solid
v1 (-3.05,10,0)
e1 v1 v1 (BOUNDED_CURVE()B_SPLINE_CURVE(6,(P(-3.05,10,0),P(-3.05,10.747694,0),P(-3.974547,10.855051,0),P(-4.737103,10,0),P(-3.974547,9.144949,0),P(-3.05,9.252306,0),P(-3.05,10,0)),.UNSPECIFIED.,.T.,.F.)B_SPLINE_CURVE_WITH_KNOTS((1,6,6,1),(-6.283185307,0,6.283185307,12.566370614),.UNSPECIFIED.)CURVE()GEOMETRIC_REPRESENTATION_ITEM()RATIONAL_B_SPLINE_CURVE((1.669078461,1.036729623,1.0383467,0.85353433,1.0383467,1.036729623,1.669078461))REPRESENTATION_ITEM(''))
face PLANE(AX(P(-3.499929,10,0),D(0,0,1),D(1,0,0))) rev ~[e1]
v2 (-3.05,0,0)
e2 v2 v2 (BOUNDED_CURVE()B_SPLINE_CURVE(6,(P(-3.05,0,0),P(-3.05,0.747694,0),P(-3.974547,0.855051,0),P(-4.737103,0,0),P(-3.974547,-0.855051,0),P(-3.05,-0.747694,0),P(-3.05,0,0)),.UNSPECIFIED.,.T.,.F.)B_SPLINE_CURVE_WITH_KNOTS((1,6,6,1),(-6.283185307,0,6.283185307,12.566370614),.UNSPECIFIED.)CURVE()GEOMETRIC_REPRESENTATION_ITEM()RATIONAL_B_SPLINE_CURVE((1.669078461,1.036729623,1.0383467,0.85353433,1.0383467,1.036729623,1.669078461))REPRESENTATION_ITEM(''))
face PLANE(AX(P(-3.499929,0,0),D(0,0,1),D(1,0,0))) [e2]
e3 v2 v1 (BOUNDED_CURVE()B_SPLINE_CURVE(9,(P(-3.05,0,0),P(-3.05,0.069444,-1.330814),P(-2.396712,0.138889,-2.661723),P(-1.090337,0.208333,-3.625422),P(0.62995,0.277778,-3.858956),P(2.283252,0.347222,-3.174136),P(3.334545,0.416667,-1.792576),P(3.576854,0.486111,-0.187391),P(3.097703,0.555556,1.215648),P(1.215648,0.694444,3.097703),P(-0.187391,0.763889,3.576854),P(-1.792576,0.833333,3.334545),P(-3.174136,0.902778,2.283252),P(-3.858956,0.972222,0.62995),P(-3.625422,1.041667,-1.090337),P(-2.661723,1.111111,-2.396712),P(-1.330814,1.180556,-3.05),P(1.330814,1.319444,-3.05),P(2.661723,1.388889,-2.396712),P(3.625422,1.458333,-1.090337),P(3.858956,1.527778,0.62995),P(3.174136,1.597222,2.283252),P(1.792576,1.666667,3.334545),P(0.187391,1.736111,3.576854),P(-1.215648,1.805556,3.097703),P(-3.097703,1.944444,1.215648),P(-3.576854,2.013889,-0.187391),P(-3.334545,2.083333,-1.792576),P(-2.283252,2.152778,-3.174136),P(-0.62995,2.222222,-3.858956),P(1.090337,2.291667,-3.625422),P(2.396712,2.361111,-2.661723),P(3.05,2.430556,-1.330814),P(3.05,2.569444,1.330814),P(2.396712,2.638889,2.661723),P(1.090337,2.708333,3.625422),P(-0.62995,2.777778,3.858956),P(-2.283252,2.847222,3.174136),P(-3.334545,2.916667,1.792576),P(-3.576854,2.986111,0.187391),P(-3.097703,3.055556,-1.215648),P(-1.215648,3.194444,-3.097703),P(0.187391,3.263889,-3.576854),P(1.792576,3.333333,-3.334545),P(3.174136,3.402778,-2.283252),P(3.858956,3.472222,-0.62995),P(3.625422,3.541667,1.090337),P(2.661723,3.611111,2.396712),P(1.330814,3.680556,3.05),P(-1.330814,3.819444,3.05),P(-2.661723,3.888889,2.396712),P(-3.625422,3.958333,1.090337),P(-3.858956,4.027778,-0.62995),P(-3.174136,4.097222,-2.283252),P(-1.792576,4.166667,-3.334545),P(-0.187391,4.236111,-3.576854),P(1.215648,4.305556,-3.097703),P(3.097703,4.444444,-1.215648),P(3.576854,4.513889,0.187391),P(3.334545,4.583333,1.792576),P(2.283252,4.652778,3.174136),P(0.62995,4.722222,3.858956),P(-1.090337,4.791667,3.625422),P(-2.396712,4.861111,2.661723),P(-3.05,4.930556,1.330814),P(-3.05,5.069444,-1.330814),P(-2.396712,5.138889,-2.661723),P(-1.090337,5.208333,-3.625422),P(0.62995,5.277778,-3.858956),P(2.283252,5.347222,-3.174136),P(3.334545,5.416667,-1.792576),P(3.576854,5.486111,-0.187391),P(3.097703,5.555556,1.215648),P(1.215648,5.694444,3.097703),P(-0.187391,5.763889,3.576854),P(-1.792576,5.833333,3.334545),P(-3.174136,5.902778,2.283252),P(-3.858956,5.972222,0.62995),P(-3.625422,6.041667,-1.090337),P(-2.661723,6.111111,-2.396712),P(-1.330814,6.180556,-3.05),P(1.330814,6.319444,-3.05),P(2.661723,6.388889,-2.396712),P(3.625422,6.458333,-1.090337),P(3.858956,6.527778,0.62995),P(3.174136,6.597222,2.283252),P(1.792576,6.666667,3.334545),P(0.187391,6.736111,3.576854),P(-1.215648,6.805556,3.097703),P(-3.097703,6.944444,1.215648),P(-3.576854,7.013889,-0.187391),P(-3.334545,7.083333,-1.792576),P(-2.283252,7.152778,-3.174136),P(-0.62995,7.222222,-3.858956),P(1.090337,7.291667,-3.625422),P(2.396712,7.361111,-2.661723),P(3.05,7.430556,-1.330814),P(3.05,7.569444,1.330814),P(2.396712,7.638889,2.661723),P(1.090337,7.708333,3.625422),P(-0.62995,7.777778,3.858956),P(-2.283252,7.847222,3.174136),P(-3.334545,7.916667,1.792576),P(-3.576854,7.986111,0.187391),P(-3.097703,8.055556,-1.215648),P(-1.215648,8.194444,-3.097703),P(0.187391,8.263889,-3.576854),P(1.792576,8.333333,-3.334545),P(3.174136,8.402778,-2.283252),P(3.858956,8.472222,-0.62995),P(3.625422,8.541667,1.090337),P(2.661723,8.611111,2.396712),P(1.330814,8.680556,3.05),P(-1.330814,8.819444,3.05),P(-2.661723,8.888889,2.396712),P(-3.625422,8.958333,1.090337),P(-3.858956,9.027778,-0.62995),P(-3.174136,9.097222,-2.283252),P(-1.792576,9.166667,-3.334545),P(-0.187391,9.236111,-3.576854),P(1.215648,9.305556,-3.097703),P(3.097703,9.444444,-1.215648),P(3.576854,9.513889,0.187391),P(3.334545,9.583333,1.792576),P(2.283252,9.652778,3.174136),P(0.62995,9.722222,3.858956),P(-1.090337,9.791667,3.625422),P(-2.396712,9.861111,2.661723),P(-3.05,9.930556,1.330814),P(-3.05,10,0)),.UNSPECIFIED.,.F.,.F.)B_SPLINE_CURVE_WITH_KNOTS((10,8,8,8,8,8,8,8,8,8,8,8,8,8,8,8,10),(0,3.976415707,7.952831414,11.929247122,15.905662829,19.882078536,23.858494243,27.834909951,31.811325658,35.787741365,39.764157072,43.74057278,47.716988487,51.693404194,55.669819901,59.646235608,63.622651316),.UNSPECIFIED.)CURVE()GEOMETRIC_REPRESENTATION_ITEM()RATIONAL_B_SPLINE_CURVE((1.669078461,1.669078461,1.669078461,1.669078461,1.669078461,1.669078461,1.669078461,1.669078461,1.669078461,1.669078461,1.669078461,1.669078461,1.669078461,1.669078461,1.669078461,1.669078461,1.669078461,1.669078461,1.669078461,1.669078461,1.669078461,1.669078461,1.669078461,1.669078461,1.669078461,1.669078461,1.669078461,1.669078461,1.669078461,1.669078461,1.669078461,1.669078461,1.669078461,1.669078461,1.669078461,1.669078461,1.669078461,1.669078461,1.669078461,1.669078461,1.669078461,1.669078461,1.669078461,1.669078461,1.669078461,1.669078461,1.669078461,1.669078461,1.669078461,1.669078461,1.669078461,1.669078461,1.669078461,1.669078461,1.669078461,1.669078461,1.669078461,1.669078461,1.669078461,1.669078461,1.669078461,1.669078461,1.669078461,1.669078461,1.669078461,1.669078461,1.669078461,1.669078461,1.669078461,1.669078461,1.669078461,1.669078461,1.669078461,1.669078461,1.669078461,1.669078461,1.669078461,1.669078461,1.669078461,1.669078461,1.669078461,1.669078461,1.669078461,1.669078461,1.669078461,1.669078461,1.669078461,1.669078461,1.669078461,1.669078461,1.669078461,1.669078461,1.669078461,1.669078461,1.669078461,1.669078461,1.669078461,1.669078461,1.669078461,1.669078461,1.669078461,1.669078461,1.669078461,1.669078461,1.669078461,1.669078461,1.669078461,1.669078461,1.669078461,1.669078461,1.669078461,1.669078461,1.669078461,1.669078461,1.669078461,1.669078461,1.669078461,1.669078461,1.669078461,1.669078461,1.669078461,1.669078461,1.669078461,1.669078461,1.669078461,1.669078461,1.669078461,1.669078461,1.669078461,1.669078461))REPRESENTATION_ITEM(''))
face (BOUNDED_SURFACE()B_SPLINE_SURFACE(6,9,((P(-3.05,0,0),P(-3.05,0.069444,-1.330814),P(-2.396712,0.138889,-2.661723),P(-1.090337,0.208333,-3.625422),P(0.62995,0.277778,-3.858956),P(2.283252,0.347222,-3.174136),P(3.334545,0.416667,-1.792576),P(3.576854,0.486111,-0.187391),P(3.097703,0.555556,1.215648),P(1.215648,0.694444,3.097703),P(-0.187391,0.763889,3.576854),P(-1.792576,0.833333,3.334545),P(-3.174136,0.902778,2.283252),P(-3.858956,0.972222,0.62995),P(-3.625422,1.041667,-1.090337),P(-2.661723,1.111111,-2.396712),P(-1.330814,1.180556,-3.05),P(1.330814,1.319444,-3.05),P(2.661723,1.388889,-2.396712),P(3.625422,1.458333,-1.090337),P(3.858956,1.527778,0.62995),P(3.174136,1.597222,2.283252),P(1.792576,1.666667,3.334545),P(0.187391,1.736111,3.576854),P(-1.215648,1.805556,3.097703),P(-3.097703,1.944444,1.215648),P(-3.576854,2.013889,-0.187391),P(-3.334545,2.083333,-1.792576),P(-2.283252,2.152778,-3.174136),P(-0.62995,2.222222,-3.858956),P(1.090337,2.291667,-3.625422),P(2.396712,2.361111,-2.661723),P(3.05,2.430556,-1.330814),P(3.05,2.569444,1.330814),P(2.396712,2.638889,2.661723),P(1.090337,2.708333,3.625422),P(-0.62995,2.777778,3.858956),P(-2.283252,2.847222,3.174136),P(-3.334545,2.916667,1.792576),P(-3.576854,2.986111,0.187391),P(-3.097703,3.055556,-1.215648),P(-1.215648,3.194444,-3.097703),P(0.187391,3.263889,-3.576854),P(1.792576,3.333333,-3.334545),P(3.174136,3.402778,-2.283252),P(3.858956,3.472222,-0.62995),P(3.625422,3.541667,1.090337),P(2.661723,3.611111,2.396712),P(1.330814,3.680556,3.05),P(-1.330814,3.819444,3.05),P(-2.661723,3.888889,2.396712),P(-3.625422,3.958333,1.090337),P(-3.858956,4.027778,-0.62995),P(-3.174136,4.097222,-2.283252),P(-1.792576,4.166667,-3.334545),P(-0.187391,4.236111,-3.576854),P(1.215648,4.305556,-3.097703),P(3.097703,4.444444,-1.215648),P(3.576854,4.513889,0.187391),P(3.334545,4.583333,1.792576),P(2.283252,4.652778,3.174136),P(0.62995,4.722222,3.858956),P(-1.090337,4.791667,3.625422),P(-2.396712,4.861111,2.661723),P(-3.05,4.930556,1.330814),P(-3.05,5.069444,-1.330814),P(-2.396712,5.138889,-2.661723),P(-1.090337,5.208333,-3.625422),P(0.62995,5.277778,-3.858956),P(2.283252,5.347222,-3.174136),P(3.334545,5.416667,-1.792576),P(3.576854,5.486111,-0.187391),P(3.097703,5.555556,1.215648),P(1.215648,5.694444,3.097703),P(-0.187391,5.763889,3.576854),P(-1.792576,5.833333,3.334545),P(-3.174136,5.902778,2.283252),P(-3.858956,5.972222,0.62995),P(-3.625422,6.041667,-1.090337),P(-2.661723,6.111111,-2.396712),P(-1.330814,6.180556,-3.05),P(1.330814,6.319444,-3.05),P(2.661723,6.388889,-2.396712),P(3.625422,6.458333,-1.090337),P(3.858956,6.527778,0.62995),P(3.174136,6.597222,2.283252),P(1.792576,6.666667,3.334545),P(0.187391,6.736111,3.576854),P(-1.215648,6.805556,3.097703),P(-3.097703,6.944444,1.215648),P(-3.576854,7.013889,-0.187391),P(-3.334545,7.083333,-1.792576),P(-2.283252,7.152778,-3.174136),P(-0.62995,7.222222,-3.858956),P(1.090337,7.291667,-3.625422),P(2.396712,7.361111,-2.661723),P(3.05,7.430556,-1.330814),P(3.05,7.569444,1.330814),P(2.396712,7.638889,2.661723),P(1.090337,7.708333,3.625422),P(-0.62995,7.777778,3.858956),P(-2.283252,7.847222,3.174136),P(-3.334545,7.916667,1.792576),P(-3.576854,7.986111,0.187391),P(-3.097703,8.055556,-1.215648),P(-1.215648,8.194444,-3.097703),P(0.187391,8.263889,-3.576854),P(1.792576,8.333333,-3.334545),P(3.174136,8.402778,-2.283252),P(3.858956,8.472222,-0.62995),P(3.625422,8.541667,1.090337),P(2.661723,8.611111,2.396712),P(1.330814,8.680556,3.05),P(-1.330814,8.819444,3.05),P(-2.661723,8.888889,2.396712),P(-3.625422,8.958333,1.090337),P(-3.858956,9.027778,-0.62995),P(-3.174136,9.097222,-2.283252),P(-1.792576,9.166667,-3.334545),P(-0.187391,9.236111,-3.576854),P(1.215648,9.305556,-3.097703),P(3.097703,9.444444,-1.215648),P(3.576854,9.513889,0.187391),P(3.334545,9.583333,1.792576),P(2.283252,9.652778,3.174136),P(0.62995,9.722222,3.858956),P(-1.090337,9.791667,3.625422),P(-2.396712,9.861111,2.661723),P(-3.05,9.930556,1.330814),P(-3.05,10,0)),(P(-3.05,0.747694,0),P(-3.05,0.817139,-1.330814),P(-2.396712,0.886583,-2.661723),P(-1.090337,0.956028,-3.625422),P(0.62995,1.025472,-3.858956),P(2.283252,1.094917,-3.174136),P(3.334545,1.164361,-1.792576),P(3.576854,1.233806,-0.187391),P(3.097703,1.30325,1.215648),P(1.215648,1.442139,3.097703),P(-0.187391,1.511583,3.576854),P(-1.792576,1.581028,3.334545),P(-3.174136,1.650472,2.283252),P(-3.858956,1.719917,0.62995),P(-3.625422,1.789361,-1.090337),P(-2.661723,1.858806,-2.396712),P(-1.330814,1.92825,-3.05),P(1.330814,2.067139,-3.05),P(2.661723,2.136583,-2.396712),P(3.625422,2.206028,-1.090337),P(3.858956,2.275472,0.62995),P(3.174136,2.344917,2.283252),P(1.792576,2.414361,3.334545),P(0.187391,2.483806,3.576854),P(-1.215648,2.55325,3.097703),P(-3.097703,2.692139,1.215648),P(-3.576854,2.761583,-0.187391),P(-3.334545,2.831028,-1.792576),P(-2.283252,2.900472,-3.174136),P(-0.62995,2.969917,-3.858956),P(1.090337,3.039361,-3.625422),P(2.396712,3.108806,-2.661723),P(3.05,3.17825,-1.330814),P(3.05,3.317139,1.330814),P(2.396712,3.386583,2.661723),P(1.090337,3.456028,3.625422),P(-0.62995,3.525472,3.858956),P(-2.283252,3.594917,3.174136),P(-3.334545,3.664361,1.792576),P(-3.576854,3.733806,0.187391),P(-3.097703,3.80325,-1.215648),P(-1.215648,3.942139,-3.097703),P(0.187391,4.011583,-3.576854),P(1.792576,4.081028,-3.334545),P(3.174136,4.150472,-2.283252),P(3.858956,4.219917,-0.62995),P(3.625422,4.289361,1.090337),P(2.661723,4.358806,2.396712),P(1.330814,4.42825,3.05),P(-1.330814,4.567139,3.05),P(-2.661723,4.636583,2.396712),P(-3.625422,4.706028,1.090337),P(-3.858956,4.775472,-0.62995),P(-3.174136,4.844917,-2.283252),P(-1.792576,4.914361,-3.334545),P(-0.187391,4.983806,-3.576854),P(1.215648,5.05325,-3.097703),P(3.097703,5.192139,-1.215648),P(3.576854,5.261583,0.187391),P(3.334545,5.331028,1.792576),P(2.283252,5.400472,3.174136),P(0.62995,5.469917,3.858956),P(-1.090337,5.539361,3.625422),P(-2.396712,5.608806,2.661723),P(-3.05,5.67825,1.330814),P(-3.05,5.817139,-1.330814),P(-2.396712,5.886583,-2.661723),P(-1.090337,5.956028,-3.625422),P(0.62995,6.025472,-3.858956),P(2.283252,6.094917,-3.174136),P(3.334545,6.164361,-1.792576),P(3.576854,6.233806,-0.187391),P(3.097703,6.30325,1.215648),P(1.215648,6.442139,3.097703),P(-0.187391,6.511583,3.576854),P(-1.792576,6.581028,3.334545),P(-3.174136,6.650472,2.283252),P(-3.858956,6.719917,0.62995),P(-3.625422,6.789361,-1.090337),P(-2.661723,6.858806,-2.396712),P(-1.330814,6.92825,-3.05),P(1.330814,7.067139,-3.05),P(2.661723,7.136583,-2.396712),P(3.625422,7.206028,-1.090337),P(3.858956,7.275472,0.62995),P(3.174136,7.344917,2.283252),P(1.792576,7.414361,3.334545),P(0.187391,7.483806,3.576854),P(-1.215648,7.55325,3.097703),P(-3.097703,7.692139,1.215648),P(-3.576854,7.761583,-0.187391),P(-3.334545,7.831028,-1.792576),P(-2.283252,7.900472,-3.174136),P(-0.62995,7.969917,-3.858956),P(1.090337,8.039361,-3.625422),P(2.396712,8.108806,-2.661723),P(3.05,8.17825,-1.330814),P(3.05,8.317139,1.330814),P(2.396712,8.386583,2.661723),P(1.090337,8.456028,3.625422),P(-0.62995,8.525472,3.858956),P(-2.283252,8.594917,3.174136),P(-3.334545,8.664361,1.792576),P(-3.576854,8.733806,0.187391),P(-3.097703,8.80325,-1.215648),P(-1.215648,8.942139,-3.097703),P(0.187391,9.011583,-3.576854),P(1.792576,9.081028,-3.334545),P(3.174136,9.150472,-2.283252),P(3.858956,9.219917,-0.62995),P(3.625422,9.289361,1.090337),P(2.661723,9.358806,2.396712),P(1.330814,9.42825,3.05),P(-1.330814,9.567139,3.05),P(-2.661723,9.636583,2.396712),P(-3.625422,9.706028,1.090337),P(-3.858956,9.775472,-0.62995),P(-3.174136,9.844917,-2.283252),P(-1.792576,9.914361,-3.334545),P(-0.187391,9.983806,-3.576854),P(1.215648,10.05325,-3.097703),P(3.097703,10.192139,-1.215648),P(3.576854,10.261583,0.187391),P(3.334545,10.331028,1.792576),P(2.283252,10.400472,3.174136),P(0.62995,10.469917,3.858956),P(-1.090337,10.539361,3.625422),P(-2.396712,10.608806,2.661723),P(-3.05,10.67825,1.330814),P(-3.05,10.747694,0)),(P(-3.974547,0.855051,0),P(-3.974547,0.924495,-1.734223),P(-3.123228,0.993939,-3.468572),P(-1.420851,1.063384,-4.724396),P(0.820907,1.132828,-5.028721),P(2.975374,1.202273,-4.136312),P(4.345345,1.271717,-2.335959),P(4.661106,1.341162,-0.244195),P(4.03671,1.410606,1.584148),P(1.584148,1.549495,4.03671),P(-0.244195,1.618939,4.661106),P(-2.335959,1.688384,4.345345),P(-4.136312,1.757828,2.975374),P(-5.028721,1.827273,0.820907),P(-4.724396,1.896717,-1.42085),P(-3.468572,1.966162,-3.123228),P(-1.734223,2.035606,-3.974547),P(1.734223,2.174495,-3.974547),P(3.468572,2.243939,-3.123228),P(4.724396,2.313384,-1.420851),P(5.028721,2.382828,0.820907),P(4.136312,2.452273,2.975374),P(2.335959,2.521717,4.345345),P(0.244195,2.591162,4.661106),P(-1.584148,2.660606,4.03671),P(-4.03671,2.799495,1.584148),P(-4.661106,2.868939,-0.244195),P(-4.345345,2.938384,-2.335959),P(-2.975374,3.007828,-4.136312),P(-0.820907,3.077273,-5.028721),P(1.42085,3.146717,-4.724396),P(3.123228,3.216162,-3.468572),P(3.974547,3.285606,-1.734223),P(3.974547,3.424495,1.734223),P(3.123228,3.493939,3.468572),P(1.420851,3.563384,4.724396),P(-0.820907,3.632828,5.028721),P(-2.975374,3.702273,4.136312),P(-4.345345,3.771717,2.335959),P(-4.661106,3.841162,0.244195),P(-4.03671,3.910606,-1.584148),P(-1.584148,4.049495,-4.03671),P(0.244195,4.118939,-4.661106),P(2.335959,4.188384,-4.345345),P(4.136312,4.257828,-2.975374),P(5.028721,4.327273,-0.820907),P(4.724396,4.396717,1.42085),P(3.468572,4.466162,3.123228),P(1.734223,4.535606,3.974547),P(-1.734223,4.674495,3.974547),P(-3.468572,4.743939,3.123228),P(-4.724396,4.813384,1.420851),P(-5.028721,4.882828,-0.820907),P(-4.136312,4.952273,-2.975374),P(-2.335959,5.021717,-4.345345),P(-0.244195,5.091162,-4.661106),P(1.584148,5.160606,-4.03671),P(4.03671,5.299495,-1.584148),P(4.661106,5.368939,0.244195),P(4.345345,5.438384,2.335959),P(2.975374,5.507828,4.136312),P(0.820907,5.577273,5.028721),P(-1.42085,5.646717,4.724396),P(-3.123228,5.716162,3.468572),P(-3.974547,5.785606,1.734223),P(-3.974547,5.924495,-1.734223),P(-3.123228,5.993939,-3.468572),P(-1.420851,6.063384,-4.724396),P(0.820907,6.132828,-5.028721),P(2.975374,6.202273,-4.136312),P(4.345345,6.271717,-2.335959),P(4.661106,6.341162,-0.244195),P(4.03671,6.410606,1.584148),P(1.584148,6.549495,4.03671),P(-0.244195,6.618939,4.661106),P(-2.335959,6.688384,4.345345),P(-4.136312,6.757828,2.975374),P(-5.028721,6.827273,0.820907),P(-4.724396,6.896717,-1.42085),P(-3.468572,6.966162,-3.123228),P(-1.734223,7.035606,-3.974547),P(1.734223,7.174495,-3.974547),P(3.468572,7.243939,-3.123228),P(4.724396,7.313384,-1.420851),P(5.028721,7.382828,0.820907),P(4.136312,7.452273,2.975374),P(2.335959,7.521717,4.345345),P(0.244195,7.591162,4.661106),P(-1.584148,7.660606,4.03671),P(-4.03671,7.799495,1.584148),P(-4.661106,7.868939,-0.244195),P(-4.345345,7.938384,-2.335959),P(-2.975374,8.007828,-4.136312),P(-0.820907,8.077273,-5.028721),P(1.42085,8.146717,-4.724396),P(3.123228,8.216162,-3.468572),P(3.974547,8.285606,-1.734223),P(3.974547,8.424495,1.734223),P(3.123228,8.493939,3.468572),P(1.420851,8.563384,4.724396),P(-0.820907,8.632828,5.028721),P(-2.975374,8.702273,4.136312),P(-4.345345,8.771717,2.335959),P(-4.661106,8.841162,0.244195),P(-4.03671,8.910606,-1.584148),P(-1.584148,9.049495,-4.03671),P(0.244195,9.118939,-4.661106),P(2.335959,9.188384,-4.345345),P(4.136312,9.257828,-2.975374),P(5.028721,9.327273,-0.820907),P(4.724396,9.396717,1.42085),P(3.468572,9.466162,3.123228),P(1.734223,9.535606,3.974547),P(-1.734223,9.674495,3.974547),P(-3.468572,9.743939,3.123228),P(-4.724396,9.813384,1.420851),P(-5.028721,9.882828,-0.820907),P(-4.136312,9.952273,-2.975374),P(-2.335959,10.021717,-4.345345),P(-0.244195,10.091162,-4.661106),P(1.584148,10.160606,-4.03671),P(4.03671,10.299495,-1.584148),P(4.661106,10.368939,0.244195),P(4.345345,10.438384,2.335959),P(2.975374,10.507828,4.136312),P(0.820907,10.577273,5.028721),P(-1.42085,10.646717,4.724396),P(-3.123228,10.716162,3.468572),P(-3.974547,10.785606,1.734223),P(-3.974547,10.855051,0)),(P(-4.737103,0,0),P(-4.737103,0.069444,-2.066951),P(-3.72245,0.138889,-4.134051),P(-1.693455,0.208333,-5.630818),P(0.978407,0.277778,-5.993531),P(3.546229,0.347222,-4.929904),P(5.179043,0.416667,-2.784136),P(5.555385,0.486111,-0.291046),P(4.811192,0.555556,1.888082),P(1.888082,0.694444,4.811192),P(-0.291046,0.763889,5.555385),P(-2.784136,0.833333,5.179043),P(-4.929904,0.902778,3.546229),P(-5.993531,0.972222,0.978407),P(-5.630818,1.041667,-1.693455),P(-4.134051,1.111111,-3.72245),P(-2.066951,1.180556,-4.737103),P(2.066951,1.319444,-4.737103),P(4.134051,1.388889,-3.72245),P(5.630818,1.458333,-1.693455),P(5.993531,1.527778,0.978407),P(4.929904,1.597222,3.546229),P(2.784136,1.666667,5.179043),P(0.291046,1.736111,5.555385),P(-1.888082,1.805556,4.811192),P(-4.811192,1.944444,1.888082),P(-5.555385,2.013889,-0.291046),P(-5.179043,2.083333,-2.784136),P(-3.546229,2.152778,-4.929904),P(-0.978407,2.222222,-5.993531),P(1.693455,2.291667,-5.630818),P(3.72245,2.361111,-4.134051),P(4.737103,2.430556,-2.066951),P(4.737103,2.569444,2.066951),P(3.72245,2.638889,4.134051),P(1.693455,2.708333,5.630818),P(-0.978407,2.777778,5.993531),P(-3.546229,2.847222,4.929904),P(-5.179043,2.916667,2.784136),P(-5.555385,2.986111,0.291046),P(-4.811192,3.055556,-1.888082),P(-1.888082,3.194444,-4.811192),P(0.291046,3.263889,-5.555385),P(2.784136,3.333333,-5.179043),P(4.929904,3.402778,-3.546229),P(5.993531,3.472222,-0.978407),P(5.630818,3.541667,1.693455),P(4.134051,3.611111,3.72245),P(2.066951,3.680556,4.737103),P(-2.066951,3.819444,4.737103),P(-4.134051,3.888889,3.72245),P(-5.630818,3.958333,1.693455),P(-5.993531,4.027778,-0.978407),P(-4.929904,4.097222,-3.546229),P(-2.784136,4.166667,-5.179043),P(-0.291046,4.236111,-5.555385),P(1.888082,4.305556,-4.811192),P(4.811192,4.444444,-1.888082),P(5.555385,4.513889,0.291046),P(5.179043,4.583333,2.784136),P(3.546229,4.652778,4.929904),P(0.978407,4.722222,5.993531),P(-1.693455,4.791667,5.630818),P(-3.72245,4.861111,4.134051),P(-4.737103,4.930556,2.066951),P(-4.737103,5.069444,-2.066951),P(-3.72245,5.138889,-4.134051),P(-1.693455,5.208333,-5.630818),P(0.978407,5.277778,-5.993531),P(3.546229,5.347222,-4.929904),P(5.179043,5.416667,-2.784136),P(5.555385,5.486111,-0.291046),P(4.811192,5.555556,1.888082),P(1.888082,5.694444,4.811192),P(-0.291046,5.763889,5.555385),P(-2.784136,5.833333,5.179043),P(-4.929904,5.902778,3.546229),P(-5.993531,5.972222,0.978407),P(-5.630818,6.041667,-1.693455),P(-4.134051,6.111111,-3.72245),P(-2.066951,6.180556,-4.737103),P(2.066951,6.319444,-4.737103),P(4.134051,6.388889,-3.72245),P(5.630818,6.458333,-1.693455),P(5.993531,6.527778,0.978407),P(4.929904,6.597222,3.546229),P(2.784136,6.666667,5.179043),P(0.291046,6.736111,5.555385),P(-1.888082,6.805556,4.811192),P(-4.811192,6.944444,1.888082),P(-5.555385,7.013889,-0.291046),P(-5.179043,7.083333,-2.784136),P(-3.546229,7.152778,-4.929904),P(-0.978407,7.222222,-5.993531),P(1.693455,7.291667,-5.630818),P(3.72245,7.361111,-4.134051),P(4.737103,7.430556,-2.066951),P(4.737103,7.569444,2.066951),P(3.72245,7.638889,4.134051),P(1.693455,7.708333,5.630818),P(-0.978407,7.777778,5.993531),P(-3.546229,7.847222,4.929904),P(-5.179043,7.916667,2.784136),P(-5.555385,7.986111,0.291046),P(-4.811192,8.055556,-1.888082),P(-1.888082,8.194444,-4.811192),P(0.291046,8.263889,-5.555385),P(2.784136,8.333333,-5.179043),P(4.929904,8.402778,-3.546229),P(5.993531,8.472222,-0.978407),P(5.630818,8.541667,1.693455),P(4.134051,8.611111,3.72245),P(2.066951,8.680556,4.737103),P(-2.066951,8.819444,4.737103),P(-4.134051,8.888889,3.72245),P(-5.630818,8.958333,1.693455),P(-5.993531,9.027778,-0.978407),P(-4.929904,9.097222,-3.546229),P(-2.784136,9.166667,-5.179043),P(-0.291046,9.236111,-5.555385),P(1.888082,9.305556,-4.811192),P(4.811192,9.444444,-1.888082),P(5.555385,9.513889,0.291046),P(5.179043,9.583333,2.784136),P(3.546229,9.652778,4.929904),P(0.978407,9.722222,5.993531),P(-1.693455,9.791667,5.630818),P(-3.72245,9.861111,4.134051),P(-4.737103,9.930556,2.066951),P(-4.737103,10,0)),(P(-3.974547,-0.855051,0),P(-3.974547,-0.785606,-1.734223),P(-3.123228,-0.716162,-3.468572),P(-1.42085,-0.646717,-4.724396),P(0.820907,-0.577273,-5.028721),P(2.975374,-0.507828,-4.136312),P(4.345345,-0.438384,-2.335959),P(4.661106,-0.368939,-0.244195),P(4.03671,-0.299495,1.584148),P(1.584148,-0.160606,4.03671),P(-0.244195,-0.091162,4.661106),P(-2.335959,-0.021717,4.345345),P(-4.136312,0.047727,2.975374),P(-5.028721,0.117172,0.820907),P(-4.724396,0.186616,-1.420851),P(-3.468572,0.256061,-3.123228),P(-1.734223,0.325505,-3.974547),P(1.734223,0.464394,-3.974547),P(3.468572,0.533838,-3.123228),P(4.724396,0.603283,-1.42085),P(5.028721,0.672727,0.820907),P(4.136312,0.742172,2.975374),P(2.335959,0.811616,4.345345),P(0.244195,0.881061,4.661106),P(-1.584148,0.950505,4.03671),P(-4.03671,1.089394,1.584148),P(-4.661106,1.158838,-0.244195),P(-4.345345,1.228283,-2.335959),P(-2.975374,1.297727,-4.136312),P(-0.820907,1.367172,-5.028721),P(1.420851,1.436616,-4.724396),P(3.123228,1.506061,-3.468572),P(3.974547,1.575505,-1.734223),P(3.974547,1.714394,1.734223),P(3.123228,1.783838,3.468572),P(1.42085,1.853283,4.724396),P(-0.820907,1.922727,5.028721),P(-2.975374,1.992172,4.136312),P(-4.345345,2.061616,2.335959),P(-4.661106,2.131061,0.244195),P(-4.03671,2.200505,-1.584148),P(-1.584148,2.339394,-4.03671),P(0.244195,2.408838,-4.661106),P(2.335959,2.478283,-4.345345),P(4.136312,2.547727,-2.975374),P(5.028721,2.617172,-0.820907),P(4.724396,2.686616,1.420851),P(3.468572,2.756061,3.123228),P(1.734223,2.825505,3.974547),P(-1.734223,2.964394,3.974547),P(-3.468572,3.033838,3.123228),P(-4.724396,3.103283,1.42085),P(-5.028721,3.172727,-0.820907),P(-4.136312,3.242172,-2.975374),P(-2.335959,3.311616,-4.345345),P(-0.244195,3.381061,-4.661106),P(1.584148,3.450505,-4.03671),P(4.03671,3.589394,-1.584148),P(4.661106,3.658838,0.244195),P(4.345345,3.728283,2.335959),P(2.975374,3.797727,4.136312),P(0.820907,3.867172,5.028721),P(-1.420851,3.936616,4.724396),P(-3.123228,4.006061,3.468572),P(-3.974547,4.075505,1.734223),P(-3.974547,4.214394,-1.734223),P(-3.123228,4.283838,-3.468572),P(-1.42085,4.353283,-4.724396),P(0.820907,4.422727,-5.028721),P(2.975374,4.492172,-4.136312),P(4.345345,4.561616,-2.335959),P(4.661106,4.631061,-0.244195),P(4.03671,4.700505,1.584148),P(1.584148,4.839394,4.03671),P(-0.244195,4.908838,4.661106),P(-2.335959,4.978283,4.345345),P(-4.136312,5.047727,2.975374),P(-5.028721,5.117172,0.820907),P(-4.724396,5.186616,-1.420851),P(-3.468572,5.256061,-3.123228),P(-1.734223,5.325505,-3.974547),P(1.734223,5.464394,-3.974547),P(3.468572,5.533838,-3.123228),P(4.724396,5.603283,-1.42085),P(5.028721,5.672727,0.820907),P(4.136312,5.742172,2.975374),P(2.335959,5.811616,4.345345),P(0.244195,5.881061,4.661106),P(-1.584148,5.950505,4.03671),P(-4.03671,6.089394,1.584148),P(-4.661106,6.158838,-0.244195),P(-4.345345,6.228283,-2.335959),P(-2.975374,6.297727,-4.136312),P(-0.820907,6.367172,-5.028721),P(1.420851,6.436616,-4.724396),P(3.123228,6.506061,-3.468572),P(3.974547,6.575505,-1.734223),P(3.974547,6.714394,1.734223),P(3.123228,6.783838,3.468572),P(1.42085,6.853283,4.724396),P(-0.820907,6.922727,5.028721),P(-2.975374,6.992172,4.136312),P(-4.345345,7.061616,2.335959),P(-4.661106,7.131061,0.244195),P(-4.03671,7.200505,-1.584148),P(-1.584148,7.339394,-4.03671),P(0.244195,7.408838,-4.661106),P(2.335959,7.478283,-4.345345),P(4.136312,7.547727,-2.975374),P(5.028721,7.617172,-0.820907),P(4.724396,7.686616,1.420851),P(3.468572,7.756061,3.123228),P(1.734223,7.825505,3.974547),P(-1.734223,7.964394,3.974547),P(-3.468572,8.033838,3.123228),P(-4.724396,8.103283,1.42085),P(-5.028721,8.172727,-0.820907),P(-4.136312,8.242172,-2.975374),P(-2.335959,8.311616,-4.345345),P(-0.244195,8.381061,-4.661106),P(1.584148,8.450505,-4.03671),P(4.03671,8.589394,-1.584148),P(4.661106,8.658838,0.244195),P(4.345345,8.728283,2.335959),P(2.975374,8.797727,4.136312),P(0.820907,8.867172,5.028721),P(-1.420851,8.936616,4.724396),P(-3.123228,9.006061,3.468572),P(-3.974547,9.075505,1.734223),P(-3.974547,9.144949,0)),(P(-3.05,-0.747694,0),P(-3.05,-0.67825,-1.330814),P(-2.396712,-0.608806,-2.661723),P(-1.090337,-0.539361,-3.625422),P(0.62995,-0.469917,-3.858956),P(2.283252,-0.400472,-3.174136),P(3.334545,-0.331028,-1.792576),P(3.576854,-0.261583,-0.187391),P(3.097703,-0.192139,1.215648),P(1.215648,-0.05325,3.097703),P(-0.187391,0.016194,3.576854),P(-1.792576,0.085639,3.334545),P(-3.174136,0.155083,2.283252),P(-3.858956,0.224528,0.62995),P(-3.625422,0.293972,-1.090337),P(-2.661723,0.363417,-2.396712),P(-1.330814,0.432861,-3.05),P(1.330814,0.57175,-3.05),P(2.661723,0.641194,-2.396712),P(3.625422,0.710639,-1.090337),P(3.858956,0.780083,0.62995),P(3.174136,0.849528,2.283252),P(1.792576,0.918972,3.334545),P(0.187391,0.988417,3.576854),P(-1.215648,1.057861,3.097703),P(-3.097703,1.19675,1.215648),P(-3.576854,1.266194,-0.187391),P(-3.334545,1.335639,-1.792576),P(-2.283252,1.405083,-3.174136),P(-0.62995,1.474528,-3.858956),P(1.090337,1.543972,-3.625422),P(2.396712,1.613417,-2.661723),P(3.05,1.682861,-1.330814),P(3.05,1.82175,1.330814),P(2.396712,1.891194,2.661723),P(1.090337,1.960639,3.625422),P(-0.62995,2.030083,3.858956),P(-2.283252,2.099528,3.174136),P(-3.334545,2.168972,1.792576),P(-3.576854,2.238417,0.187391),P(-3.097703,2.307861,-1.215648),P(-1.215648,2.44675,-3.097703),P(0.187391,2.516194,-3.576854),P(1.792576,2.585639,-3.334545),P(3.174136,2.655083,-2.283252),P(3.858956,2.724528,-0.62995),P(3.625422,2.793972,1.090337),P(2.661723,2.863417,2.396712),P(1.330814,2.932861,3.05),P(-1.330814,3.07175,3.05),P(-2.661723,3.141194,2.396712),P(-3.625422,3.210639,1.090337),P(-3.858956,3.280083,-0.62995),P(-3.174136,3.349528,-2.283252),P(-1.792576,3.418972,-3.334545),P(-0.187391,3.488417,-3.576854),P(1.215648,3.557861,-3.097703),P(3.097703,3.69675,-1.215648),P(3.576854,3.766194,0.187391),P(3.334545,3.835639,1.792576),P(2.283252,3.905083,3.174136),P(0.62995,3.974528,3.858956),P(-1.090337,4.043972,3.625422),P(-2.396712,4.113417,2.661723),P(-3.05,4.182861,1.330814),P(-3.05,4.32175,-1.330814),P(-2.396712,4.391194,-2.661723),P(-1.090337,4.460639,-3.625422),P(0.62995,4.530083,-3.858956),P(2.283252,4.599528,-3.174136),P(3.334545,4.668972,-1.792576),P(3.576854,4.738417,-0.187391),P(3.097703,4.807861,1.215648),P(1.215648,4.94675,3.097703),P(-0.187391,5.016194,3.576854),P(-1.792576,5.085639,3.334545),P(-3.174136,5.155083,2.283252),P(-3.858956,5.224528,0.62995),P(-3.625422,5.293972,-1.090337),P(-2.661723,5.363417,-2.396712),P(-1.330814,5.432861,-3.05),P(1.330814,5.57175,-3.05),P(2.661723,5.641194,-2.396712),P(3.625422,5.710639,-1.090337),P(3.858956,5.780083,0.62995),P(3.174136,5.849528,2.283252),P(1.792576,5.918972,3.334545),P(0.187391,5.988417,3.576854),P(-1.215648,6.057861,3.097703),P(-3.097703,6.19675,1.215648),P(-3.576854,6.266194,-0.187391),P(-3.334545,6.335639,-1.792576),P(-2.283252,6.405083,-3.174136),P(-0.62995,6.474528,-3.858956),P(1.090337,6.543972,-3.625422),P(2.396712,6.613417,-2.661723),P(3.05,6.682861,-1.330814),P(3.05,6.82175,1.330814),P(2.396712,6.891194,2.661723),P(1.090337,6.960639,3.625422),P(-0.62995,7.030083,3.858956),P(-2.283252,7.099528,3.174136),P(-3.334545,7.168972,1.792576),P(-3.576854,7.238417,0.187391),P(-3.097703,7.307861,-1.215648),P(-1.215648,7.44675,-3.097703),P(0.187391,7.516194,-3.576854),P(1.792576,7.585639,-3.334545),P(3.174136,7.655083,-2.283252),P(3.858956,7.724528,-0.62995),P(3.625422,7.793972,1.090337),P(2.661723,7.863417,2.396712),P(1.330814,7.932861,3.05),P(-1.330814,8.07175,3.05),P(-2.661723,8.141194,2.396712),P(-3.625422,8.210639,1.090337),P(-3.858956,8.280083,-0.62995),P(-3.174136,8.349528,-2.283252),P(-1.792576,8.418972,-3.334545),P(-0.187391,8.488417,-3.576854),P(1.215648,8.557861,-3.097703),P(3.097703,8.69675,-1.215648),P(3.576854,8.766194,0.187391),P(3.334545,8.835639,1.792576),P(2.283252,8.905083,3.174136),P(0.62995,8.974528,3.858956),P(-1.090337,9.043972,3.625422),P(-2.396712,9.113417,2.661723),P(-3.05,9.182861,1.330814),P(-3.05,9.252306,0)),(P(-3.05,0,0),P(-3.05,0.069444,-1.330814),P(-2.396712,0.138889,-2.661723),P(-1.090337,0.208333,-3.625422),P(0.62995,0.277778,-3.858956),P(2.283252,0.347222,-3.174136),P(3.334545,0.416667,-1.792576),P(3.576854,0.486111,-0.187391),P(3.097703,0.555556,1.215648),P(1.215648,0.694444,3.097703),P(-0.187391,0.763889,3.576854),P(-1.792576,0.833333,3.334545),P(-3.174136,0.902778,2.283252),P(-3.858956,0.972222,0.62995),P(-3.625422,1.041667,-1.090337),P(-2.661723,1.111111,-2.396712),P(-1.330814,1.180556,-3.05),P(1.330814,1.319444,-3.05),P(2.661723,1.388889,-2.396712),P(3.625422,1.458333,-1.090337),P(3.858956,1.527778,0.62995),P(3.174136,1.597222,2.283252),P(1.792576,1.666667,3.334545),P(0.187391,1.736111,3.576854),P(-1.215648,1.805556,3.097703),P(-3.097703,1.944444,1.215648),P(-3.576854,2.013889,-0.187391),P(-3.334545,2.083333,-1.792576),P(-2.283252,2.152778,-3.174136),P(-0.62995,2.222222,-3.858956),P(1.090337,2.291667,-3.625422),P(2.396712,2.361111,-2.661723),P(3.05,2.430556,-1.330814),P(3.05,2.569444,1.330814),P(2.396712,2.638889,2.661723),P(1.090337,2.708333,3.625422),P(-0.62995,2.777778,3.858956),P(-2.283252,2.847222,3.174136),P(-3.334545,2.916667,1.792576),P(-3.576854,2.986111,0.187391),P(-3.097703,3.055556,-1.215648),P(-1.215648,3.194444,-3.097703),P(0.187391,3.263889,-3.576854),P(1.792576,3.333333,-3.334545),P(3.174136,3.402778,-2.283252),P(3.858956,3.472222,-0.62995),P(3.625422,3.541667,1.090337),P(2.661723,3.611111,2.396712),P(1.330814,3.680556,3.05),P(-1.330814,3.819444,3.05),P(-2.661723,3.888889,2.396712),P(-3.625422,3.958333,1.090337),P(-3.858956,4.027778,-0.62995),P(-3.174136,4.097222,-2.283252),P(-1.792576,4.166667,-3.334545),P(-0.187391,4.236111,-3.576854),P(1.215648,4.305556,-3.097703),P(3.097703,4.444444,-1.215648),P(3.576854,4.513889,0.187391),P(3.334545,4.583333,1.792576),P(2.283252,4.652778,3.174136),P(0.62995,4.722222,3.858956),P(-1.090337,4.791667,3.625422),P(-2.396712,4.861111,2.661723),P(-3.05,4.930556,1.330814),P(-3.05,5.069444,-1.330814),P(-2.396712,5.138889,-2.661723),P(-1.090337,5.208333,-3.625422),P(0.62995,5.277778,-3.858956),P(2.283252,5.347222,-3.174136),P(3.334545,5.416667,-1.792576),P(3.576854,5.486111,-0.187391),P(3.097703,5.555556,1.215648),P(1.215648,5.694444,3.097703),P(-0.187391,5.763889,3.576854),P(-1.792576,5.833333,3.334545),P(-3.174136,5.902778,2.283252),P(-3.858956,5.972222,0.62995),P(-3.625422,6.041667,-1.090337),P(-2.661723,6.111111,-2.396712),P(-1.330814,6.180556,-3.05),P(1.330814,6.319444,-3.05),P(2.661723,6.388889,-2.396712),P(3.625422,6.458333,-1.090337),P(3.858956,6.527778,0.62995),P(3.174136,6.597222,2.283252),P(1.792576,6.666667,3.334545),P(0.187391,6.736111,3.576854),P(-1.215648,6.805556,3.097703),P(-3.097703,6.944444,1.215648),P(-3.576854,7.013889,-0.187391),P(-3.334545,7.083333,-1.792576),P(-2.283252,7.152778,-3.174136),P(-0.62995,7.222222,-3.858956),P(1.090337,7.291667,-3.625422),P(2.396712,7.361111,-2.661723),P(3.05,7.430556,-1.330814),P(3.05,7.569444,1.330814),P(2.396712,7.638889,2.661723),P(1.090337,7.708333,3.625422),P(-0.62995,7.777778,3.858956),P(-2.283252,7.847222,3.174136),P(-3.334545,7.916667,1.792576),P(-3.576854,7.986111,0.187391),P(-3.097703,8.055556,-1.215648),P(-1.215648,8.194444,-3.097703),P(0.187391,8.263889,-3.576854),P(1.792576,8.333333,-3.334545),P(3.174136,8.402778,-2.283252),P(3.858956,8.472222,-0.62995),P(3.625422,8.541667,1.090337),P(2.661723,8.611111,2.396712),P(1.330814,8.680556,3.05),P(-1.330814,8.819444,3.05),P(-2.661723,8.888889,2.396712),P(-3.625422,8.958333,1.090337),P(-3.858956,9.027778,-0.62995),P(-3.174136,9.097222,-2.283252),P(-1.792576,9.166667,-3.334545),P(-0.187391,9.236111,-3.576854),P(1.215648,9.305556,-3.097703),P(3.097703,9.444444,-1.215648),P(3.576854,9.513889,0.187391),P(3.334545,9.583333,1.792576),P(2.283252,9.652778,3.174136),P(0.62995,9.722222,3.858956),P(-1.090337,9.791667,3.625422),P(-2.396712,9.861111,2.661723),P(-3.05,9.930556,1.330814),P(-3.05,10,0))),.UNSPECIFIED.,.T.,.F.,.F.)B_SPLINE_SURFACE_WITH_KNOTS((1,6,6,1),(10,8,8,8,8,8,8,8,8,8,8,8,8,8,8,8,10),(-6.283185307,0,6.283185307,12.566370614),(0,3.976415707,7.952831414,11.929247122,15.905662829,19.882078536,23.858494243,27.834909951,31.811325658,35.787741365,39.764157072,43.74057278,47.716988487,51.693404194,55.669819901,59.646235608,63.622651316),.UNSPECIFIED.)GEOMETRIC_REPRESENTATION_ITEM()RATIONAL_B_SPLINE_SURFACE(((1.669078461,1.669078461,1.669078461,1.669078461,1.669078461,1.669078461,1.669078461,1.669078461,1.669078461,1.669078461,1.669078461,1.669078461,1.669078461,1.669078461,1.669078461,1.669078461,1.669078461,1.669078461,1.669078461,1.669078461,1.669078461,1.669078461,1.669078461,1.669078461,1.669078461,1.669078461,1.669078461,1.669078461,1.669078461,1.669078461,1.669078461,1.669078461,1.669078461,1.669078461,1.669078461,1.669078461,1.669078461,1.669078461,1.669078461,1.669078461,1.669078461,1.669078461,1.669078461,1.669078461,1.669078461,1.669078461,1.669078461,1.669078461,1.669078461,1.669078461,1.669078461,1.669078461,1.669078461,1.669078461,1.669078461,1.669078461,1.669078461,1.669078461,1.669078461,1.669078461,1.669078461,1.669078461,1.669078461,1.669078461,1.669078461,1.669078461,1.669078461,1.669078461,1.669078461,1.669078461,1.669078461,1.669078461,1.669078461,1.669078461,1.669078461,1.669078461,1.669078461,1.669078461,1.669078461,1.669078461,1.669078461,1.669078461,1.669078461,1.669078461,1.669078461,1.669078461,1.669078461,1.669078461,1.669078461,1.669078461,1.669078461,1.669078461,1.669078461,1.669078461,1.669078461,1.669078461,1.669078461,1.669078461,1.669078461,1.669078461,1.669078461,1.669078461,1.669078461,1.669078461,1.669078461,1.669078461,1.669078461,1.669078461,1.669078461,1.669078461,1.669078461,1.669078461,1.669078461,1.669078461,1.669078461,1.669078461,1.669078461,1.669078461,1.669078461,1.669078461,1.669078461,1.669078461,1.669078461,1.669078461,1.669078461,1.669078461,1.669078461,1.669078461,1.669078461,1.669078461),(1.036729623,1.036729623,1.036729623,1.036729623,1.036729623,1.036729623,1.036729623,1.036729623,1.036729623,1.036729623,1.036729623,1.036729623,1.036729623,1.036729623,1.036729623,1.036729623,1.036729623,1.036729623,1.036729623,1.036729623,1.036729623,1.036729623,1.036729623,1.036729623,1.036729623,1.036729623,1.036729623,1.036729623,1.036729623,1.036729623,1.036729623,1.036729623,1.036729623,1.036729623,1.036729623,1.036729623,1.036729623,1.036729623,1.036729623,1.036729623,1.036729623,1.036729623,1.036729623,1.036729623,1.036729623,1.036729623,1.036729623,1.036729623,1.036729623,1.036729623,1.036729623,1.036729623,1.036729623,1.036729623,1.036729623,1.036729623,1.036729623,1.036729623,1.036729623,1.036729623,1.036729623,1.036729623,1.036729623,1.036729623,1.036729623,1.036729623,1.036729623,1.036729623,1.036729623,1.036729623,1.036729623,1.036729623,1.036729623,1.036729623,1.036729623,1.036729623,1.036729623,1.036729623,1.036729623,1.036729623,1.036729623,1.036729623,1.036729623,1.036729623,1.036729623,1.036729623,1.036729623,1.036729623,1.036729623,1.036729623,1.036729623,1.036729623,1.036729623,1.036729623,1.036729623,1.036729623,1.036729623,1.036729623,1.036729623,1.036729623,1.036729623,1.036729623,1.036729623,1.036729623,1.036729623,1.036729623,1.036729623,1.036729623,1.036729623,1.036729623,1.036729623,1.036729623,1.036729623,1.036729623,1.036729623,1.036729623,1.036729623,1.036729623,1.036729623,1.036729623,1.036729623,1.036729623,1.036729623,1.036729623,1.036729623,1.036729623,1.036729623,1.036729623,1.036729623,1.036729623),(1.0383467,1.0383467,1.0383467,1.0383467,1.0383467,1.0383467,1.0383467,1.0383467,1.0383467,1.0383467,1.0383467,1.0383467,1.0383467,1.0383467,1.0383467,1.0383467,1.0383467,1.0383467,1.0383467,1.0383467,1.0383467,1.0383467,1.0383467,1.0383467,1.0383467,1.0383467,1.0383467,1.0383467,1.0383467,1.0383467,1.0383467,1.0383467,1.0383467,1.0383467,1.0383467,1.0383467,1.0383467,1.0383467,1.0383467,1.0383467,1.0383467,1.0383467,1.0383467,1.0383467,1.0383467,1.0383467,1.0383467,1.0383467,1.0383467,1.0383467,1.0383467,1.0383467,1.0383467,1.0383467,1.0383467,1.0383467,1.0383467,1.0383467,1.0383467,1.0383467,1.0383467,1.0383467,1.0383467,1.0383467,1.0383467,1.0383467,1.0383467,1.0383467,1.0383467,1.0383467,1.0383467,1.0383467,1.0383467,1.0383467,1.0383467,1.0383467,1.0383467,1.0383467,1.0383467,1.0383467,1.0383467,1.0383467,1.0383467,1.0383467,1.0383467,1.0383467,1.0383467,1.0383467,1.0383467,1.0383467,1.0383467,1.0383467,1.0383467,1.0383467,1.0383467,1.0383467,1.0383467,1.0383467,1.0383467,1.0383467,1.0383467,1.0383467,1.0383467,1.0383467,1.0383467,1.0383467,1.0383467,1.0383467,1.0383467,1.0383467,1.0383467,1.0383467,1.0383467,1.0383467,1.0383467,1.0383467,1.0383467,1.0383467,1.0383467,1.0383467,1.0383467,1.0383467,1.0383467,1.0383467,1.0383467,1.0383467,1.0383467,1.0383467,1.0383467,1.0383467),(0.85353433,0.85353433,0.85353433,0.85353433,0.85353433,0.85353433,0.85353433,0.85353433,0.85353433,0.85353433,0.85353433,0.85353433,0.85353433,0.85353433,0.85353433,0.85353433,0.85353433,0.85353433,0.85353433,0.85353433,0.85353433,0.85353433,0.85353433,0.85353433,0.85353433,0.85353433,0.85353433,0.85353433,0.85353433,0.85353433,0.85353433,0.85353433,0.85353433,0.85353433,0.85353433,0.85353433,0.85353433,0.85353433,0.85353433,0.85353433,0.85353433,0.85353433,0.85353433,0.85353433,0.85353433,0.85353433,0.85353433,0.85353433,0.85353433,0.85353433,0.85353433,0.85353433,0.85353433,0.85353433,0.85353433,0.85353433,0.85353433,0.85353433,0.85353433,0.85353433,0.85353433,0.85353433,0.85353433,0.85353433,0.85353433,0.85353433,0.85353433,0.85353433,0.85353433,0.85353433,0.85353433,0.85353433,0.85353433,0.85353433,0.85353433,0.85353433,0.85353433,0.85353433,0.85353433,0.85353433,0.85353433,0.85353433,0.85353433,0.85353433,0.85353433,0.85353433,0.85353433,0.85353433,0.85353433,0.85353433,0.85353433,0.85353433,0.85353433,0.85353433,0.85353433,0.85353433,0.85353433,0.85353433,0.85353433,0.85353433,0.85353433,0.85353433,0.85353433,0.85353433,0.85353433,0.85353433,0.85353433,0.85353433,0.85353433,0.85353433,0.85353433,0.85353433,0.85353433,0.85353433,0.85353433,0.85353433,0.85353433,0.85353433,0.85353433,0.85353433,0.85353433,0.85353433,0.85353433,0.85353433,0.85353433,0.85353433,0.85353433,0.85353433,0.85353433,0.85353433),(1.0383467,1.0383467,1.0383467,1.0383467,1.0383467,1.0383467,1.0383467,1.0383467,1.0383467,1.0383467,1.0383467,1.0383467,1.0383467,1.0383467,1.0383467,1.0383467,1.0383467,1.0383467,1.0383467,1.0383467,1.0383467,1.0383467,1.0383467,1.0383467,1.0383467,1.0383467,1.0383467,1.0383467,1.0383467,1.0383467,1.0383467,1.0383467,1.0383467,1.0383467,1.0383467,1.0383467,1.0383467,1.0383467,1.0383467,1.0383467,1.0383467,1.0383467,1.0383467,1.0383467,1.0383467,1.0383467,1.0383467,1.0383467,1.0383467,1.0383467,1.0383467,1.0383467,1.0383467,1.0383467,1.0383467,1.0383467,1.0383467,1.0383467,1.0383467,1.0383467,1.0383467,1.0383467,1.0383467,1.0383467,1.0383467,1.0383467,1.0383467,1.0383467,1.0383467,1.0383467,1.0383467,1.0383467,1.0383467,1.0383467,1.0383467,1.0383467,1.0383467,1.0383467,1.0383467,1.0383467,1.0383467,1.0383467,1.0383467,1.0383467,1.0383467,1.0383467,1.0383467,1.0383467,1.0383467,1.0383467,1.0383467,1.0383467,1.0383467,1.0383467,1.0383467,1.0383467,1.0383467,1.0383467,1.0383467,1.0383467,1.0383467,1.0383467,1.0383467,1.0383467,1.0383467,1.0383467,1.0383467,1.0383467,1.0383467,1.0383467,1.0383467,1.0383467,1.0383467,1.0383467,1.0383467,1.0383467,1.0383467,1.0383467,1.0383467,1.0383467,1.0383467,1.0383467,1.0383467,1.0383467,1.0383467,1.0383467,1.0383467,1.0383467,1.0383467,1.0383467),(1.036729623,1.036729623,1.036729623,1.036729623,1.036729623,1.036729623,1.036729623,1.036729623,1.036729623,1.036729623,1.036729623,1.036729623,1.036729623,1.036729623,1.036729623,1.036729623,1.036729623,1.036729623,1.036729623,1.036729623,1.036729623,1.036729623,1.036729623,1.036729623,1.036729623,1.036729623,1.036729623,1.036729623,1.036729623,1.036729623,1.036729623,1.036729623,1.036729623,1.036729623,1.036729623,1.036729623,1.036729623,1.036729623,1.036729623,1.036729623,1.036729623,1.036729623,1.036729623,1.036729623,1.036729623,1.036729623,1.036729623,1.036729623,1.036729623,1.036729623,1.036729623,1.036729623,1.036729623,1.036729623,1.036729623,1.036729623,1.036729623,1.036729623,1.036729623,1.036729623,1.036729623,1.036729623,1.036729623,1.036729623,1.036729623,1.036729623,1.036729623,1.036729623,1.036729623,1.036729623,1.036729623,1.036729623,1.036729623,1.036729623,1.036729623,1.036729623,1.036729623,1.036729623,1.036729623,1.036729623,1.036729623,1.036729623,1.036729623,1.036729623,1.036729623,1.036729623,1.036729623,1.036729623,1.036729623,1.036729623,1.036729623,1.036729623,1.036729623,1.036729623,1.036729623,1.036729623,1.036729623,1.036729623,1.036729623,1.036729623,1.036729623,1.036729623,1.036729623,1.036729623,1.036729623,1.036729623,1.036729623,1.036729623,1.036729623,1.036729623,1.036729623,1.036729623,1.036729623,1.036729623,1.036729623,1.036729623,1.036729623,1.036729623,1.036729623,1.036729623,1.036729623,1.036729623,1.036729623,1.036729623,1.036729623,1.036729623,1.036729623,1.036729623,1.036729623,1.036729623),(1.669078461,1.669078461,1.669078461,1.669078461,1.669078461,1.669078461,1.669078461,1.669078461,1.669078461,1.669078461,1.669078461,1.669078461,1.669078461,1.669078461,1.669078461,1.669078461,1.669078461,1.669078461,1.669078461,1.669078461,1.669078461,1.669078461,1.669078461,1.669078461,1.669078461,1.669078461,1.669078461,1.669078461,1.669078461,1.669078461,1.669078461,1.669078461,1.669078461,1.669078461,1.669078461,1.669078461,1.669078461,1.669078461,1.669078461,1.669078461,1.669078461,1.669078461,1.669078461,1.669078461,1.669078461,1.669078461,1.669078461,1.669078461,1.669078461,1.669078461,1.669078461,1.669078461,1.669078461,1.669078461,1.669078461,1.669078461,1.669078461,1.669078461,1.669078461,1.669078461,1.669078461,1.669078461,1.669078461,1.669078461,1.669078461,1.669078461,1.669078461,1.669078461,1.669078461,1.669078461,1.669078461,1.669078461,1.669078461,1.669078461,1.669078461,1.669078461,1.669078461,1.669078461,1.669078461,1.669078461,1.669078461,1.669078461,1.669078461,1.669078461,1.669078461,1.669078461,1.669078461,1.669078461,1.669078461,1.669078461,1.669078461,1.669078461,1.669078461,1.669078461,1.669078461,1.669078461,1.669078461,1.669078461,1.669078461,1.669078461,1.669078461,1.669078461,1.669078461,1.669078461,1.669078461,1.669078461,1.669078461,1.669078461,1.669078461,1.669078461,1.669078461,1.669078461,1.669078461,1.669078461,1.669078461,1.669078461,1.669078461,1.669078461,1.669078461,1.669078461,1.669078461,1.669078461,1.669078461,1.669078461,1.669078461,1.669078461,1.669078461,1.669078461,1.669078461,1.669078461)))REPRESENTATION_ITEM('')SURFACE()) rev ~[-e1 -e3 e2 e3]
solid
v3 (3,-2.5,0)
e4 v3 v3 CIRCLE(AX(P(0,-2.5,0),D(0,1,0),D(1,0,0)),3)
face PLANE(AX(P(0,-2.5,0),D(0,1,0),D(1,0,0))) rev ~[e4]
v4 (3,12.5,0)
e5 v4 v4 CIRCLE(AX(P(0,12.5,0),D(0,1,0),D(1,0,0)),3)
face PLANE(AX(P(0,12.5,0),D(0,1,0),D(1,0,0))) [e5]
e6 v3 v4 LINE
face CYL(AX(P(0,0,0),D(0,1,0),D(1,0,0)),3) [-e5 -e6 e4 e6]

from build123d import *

# Parameters (mm, degrees)
SKETCH1_R                = 3
BOSS_EXTRUDE1_DEPTH      = 12.5
BOSS_EXTRUDE1_DEPTH_BACK = 2.5
SWEEP1_PITCH             = 1
SWEEP1_HEIGHT            = 10
SWEEP1_RADIUS            = 3.5
SWEEP1_START_ANGLE       = -90
SKETCH3_R                = 0.45


with BuildPart() as part:
    # Sketch1 → Boss-Extrude1 (new body, two sides)
    with BuildSketch(Plane(origin=(0, 0, 0), x_dir=(1, 0, 0), z_dir=(0, 1, 0))) as boss_extrude1_sk:
        Circle(SKETCH1_R)
    extrude(amount=BOSS_EXTRUDE1_DEPTH)
    extrude(boss_extrude1_sk.sketch, amount=-BOSS_EXTRUDE1_DEPTH_BACK)


with BuildPart() as body_2:
    # Sweep1: sweep along a helix
    with BuildLine() as sweep1_path:
        add(Helix(SWEEP1_PITCH, SWEEP1_HEIGHT, SWEEP1_RADIUS, center=(0, 0, 0), direction=(0, 1, 0), lefthand=True, mode=Mode.PRIVATE).rotate(Axis((0, 0, 0), (0, 1, 0)), SWEEP1_START_ANGLE))
    # Sketch3 → Sweep1 (sweep)
    with BuildSketch(Plane.XY):
        with Locations((-3.5, 0)):
            Circle(SKETCH3_R)
    sweep(path=sweep1_path.line, is_frenet=True)


solid = Compound([part.part, body_2.part])
